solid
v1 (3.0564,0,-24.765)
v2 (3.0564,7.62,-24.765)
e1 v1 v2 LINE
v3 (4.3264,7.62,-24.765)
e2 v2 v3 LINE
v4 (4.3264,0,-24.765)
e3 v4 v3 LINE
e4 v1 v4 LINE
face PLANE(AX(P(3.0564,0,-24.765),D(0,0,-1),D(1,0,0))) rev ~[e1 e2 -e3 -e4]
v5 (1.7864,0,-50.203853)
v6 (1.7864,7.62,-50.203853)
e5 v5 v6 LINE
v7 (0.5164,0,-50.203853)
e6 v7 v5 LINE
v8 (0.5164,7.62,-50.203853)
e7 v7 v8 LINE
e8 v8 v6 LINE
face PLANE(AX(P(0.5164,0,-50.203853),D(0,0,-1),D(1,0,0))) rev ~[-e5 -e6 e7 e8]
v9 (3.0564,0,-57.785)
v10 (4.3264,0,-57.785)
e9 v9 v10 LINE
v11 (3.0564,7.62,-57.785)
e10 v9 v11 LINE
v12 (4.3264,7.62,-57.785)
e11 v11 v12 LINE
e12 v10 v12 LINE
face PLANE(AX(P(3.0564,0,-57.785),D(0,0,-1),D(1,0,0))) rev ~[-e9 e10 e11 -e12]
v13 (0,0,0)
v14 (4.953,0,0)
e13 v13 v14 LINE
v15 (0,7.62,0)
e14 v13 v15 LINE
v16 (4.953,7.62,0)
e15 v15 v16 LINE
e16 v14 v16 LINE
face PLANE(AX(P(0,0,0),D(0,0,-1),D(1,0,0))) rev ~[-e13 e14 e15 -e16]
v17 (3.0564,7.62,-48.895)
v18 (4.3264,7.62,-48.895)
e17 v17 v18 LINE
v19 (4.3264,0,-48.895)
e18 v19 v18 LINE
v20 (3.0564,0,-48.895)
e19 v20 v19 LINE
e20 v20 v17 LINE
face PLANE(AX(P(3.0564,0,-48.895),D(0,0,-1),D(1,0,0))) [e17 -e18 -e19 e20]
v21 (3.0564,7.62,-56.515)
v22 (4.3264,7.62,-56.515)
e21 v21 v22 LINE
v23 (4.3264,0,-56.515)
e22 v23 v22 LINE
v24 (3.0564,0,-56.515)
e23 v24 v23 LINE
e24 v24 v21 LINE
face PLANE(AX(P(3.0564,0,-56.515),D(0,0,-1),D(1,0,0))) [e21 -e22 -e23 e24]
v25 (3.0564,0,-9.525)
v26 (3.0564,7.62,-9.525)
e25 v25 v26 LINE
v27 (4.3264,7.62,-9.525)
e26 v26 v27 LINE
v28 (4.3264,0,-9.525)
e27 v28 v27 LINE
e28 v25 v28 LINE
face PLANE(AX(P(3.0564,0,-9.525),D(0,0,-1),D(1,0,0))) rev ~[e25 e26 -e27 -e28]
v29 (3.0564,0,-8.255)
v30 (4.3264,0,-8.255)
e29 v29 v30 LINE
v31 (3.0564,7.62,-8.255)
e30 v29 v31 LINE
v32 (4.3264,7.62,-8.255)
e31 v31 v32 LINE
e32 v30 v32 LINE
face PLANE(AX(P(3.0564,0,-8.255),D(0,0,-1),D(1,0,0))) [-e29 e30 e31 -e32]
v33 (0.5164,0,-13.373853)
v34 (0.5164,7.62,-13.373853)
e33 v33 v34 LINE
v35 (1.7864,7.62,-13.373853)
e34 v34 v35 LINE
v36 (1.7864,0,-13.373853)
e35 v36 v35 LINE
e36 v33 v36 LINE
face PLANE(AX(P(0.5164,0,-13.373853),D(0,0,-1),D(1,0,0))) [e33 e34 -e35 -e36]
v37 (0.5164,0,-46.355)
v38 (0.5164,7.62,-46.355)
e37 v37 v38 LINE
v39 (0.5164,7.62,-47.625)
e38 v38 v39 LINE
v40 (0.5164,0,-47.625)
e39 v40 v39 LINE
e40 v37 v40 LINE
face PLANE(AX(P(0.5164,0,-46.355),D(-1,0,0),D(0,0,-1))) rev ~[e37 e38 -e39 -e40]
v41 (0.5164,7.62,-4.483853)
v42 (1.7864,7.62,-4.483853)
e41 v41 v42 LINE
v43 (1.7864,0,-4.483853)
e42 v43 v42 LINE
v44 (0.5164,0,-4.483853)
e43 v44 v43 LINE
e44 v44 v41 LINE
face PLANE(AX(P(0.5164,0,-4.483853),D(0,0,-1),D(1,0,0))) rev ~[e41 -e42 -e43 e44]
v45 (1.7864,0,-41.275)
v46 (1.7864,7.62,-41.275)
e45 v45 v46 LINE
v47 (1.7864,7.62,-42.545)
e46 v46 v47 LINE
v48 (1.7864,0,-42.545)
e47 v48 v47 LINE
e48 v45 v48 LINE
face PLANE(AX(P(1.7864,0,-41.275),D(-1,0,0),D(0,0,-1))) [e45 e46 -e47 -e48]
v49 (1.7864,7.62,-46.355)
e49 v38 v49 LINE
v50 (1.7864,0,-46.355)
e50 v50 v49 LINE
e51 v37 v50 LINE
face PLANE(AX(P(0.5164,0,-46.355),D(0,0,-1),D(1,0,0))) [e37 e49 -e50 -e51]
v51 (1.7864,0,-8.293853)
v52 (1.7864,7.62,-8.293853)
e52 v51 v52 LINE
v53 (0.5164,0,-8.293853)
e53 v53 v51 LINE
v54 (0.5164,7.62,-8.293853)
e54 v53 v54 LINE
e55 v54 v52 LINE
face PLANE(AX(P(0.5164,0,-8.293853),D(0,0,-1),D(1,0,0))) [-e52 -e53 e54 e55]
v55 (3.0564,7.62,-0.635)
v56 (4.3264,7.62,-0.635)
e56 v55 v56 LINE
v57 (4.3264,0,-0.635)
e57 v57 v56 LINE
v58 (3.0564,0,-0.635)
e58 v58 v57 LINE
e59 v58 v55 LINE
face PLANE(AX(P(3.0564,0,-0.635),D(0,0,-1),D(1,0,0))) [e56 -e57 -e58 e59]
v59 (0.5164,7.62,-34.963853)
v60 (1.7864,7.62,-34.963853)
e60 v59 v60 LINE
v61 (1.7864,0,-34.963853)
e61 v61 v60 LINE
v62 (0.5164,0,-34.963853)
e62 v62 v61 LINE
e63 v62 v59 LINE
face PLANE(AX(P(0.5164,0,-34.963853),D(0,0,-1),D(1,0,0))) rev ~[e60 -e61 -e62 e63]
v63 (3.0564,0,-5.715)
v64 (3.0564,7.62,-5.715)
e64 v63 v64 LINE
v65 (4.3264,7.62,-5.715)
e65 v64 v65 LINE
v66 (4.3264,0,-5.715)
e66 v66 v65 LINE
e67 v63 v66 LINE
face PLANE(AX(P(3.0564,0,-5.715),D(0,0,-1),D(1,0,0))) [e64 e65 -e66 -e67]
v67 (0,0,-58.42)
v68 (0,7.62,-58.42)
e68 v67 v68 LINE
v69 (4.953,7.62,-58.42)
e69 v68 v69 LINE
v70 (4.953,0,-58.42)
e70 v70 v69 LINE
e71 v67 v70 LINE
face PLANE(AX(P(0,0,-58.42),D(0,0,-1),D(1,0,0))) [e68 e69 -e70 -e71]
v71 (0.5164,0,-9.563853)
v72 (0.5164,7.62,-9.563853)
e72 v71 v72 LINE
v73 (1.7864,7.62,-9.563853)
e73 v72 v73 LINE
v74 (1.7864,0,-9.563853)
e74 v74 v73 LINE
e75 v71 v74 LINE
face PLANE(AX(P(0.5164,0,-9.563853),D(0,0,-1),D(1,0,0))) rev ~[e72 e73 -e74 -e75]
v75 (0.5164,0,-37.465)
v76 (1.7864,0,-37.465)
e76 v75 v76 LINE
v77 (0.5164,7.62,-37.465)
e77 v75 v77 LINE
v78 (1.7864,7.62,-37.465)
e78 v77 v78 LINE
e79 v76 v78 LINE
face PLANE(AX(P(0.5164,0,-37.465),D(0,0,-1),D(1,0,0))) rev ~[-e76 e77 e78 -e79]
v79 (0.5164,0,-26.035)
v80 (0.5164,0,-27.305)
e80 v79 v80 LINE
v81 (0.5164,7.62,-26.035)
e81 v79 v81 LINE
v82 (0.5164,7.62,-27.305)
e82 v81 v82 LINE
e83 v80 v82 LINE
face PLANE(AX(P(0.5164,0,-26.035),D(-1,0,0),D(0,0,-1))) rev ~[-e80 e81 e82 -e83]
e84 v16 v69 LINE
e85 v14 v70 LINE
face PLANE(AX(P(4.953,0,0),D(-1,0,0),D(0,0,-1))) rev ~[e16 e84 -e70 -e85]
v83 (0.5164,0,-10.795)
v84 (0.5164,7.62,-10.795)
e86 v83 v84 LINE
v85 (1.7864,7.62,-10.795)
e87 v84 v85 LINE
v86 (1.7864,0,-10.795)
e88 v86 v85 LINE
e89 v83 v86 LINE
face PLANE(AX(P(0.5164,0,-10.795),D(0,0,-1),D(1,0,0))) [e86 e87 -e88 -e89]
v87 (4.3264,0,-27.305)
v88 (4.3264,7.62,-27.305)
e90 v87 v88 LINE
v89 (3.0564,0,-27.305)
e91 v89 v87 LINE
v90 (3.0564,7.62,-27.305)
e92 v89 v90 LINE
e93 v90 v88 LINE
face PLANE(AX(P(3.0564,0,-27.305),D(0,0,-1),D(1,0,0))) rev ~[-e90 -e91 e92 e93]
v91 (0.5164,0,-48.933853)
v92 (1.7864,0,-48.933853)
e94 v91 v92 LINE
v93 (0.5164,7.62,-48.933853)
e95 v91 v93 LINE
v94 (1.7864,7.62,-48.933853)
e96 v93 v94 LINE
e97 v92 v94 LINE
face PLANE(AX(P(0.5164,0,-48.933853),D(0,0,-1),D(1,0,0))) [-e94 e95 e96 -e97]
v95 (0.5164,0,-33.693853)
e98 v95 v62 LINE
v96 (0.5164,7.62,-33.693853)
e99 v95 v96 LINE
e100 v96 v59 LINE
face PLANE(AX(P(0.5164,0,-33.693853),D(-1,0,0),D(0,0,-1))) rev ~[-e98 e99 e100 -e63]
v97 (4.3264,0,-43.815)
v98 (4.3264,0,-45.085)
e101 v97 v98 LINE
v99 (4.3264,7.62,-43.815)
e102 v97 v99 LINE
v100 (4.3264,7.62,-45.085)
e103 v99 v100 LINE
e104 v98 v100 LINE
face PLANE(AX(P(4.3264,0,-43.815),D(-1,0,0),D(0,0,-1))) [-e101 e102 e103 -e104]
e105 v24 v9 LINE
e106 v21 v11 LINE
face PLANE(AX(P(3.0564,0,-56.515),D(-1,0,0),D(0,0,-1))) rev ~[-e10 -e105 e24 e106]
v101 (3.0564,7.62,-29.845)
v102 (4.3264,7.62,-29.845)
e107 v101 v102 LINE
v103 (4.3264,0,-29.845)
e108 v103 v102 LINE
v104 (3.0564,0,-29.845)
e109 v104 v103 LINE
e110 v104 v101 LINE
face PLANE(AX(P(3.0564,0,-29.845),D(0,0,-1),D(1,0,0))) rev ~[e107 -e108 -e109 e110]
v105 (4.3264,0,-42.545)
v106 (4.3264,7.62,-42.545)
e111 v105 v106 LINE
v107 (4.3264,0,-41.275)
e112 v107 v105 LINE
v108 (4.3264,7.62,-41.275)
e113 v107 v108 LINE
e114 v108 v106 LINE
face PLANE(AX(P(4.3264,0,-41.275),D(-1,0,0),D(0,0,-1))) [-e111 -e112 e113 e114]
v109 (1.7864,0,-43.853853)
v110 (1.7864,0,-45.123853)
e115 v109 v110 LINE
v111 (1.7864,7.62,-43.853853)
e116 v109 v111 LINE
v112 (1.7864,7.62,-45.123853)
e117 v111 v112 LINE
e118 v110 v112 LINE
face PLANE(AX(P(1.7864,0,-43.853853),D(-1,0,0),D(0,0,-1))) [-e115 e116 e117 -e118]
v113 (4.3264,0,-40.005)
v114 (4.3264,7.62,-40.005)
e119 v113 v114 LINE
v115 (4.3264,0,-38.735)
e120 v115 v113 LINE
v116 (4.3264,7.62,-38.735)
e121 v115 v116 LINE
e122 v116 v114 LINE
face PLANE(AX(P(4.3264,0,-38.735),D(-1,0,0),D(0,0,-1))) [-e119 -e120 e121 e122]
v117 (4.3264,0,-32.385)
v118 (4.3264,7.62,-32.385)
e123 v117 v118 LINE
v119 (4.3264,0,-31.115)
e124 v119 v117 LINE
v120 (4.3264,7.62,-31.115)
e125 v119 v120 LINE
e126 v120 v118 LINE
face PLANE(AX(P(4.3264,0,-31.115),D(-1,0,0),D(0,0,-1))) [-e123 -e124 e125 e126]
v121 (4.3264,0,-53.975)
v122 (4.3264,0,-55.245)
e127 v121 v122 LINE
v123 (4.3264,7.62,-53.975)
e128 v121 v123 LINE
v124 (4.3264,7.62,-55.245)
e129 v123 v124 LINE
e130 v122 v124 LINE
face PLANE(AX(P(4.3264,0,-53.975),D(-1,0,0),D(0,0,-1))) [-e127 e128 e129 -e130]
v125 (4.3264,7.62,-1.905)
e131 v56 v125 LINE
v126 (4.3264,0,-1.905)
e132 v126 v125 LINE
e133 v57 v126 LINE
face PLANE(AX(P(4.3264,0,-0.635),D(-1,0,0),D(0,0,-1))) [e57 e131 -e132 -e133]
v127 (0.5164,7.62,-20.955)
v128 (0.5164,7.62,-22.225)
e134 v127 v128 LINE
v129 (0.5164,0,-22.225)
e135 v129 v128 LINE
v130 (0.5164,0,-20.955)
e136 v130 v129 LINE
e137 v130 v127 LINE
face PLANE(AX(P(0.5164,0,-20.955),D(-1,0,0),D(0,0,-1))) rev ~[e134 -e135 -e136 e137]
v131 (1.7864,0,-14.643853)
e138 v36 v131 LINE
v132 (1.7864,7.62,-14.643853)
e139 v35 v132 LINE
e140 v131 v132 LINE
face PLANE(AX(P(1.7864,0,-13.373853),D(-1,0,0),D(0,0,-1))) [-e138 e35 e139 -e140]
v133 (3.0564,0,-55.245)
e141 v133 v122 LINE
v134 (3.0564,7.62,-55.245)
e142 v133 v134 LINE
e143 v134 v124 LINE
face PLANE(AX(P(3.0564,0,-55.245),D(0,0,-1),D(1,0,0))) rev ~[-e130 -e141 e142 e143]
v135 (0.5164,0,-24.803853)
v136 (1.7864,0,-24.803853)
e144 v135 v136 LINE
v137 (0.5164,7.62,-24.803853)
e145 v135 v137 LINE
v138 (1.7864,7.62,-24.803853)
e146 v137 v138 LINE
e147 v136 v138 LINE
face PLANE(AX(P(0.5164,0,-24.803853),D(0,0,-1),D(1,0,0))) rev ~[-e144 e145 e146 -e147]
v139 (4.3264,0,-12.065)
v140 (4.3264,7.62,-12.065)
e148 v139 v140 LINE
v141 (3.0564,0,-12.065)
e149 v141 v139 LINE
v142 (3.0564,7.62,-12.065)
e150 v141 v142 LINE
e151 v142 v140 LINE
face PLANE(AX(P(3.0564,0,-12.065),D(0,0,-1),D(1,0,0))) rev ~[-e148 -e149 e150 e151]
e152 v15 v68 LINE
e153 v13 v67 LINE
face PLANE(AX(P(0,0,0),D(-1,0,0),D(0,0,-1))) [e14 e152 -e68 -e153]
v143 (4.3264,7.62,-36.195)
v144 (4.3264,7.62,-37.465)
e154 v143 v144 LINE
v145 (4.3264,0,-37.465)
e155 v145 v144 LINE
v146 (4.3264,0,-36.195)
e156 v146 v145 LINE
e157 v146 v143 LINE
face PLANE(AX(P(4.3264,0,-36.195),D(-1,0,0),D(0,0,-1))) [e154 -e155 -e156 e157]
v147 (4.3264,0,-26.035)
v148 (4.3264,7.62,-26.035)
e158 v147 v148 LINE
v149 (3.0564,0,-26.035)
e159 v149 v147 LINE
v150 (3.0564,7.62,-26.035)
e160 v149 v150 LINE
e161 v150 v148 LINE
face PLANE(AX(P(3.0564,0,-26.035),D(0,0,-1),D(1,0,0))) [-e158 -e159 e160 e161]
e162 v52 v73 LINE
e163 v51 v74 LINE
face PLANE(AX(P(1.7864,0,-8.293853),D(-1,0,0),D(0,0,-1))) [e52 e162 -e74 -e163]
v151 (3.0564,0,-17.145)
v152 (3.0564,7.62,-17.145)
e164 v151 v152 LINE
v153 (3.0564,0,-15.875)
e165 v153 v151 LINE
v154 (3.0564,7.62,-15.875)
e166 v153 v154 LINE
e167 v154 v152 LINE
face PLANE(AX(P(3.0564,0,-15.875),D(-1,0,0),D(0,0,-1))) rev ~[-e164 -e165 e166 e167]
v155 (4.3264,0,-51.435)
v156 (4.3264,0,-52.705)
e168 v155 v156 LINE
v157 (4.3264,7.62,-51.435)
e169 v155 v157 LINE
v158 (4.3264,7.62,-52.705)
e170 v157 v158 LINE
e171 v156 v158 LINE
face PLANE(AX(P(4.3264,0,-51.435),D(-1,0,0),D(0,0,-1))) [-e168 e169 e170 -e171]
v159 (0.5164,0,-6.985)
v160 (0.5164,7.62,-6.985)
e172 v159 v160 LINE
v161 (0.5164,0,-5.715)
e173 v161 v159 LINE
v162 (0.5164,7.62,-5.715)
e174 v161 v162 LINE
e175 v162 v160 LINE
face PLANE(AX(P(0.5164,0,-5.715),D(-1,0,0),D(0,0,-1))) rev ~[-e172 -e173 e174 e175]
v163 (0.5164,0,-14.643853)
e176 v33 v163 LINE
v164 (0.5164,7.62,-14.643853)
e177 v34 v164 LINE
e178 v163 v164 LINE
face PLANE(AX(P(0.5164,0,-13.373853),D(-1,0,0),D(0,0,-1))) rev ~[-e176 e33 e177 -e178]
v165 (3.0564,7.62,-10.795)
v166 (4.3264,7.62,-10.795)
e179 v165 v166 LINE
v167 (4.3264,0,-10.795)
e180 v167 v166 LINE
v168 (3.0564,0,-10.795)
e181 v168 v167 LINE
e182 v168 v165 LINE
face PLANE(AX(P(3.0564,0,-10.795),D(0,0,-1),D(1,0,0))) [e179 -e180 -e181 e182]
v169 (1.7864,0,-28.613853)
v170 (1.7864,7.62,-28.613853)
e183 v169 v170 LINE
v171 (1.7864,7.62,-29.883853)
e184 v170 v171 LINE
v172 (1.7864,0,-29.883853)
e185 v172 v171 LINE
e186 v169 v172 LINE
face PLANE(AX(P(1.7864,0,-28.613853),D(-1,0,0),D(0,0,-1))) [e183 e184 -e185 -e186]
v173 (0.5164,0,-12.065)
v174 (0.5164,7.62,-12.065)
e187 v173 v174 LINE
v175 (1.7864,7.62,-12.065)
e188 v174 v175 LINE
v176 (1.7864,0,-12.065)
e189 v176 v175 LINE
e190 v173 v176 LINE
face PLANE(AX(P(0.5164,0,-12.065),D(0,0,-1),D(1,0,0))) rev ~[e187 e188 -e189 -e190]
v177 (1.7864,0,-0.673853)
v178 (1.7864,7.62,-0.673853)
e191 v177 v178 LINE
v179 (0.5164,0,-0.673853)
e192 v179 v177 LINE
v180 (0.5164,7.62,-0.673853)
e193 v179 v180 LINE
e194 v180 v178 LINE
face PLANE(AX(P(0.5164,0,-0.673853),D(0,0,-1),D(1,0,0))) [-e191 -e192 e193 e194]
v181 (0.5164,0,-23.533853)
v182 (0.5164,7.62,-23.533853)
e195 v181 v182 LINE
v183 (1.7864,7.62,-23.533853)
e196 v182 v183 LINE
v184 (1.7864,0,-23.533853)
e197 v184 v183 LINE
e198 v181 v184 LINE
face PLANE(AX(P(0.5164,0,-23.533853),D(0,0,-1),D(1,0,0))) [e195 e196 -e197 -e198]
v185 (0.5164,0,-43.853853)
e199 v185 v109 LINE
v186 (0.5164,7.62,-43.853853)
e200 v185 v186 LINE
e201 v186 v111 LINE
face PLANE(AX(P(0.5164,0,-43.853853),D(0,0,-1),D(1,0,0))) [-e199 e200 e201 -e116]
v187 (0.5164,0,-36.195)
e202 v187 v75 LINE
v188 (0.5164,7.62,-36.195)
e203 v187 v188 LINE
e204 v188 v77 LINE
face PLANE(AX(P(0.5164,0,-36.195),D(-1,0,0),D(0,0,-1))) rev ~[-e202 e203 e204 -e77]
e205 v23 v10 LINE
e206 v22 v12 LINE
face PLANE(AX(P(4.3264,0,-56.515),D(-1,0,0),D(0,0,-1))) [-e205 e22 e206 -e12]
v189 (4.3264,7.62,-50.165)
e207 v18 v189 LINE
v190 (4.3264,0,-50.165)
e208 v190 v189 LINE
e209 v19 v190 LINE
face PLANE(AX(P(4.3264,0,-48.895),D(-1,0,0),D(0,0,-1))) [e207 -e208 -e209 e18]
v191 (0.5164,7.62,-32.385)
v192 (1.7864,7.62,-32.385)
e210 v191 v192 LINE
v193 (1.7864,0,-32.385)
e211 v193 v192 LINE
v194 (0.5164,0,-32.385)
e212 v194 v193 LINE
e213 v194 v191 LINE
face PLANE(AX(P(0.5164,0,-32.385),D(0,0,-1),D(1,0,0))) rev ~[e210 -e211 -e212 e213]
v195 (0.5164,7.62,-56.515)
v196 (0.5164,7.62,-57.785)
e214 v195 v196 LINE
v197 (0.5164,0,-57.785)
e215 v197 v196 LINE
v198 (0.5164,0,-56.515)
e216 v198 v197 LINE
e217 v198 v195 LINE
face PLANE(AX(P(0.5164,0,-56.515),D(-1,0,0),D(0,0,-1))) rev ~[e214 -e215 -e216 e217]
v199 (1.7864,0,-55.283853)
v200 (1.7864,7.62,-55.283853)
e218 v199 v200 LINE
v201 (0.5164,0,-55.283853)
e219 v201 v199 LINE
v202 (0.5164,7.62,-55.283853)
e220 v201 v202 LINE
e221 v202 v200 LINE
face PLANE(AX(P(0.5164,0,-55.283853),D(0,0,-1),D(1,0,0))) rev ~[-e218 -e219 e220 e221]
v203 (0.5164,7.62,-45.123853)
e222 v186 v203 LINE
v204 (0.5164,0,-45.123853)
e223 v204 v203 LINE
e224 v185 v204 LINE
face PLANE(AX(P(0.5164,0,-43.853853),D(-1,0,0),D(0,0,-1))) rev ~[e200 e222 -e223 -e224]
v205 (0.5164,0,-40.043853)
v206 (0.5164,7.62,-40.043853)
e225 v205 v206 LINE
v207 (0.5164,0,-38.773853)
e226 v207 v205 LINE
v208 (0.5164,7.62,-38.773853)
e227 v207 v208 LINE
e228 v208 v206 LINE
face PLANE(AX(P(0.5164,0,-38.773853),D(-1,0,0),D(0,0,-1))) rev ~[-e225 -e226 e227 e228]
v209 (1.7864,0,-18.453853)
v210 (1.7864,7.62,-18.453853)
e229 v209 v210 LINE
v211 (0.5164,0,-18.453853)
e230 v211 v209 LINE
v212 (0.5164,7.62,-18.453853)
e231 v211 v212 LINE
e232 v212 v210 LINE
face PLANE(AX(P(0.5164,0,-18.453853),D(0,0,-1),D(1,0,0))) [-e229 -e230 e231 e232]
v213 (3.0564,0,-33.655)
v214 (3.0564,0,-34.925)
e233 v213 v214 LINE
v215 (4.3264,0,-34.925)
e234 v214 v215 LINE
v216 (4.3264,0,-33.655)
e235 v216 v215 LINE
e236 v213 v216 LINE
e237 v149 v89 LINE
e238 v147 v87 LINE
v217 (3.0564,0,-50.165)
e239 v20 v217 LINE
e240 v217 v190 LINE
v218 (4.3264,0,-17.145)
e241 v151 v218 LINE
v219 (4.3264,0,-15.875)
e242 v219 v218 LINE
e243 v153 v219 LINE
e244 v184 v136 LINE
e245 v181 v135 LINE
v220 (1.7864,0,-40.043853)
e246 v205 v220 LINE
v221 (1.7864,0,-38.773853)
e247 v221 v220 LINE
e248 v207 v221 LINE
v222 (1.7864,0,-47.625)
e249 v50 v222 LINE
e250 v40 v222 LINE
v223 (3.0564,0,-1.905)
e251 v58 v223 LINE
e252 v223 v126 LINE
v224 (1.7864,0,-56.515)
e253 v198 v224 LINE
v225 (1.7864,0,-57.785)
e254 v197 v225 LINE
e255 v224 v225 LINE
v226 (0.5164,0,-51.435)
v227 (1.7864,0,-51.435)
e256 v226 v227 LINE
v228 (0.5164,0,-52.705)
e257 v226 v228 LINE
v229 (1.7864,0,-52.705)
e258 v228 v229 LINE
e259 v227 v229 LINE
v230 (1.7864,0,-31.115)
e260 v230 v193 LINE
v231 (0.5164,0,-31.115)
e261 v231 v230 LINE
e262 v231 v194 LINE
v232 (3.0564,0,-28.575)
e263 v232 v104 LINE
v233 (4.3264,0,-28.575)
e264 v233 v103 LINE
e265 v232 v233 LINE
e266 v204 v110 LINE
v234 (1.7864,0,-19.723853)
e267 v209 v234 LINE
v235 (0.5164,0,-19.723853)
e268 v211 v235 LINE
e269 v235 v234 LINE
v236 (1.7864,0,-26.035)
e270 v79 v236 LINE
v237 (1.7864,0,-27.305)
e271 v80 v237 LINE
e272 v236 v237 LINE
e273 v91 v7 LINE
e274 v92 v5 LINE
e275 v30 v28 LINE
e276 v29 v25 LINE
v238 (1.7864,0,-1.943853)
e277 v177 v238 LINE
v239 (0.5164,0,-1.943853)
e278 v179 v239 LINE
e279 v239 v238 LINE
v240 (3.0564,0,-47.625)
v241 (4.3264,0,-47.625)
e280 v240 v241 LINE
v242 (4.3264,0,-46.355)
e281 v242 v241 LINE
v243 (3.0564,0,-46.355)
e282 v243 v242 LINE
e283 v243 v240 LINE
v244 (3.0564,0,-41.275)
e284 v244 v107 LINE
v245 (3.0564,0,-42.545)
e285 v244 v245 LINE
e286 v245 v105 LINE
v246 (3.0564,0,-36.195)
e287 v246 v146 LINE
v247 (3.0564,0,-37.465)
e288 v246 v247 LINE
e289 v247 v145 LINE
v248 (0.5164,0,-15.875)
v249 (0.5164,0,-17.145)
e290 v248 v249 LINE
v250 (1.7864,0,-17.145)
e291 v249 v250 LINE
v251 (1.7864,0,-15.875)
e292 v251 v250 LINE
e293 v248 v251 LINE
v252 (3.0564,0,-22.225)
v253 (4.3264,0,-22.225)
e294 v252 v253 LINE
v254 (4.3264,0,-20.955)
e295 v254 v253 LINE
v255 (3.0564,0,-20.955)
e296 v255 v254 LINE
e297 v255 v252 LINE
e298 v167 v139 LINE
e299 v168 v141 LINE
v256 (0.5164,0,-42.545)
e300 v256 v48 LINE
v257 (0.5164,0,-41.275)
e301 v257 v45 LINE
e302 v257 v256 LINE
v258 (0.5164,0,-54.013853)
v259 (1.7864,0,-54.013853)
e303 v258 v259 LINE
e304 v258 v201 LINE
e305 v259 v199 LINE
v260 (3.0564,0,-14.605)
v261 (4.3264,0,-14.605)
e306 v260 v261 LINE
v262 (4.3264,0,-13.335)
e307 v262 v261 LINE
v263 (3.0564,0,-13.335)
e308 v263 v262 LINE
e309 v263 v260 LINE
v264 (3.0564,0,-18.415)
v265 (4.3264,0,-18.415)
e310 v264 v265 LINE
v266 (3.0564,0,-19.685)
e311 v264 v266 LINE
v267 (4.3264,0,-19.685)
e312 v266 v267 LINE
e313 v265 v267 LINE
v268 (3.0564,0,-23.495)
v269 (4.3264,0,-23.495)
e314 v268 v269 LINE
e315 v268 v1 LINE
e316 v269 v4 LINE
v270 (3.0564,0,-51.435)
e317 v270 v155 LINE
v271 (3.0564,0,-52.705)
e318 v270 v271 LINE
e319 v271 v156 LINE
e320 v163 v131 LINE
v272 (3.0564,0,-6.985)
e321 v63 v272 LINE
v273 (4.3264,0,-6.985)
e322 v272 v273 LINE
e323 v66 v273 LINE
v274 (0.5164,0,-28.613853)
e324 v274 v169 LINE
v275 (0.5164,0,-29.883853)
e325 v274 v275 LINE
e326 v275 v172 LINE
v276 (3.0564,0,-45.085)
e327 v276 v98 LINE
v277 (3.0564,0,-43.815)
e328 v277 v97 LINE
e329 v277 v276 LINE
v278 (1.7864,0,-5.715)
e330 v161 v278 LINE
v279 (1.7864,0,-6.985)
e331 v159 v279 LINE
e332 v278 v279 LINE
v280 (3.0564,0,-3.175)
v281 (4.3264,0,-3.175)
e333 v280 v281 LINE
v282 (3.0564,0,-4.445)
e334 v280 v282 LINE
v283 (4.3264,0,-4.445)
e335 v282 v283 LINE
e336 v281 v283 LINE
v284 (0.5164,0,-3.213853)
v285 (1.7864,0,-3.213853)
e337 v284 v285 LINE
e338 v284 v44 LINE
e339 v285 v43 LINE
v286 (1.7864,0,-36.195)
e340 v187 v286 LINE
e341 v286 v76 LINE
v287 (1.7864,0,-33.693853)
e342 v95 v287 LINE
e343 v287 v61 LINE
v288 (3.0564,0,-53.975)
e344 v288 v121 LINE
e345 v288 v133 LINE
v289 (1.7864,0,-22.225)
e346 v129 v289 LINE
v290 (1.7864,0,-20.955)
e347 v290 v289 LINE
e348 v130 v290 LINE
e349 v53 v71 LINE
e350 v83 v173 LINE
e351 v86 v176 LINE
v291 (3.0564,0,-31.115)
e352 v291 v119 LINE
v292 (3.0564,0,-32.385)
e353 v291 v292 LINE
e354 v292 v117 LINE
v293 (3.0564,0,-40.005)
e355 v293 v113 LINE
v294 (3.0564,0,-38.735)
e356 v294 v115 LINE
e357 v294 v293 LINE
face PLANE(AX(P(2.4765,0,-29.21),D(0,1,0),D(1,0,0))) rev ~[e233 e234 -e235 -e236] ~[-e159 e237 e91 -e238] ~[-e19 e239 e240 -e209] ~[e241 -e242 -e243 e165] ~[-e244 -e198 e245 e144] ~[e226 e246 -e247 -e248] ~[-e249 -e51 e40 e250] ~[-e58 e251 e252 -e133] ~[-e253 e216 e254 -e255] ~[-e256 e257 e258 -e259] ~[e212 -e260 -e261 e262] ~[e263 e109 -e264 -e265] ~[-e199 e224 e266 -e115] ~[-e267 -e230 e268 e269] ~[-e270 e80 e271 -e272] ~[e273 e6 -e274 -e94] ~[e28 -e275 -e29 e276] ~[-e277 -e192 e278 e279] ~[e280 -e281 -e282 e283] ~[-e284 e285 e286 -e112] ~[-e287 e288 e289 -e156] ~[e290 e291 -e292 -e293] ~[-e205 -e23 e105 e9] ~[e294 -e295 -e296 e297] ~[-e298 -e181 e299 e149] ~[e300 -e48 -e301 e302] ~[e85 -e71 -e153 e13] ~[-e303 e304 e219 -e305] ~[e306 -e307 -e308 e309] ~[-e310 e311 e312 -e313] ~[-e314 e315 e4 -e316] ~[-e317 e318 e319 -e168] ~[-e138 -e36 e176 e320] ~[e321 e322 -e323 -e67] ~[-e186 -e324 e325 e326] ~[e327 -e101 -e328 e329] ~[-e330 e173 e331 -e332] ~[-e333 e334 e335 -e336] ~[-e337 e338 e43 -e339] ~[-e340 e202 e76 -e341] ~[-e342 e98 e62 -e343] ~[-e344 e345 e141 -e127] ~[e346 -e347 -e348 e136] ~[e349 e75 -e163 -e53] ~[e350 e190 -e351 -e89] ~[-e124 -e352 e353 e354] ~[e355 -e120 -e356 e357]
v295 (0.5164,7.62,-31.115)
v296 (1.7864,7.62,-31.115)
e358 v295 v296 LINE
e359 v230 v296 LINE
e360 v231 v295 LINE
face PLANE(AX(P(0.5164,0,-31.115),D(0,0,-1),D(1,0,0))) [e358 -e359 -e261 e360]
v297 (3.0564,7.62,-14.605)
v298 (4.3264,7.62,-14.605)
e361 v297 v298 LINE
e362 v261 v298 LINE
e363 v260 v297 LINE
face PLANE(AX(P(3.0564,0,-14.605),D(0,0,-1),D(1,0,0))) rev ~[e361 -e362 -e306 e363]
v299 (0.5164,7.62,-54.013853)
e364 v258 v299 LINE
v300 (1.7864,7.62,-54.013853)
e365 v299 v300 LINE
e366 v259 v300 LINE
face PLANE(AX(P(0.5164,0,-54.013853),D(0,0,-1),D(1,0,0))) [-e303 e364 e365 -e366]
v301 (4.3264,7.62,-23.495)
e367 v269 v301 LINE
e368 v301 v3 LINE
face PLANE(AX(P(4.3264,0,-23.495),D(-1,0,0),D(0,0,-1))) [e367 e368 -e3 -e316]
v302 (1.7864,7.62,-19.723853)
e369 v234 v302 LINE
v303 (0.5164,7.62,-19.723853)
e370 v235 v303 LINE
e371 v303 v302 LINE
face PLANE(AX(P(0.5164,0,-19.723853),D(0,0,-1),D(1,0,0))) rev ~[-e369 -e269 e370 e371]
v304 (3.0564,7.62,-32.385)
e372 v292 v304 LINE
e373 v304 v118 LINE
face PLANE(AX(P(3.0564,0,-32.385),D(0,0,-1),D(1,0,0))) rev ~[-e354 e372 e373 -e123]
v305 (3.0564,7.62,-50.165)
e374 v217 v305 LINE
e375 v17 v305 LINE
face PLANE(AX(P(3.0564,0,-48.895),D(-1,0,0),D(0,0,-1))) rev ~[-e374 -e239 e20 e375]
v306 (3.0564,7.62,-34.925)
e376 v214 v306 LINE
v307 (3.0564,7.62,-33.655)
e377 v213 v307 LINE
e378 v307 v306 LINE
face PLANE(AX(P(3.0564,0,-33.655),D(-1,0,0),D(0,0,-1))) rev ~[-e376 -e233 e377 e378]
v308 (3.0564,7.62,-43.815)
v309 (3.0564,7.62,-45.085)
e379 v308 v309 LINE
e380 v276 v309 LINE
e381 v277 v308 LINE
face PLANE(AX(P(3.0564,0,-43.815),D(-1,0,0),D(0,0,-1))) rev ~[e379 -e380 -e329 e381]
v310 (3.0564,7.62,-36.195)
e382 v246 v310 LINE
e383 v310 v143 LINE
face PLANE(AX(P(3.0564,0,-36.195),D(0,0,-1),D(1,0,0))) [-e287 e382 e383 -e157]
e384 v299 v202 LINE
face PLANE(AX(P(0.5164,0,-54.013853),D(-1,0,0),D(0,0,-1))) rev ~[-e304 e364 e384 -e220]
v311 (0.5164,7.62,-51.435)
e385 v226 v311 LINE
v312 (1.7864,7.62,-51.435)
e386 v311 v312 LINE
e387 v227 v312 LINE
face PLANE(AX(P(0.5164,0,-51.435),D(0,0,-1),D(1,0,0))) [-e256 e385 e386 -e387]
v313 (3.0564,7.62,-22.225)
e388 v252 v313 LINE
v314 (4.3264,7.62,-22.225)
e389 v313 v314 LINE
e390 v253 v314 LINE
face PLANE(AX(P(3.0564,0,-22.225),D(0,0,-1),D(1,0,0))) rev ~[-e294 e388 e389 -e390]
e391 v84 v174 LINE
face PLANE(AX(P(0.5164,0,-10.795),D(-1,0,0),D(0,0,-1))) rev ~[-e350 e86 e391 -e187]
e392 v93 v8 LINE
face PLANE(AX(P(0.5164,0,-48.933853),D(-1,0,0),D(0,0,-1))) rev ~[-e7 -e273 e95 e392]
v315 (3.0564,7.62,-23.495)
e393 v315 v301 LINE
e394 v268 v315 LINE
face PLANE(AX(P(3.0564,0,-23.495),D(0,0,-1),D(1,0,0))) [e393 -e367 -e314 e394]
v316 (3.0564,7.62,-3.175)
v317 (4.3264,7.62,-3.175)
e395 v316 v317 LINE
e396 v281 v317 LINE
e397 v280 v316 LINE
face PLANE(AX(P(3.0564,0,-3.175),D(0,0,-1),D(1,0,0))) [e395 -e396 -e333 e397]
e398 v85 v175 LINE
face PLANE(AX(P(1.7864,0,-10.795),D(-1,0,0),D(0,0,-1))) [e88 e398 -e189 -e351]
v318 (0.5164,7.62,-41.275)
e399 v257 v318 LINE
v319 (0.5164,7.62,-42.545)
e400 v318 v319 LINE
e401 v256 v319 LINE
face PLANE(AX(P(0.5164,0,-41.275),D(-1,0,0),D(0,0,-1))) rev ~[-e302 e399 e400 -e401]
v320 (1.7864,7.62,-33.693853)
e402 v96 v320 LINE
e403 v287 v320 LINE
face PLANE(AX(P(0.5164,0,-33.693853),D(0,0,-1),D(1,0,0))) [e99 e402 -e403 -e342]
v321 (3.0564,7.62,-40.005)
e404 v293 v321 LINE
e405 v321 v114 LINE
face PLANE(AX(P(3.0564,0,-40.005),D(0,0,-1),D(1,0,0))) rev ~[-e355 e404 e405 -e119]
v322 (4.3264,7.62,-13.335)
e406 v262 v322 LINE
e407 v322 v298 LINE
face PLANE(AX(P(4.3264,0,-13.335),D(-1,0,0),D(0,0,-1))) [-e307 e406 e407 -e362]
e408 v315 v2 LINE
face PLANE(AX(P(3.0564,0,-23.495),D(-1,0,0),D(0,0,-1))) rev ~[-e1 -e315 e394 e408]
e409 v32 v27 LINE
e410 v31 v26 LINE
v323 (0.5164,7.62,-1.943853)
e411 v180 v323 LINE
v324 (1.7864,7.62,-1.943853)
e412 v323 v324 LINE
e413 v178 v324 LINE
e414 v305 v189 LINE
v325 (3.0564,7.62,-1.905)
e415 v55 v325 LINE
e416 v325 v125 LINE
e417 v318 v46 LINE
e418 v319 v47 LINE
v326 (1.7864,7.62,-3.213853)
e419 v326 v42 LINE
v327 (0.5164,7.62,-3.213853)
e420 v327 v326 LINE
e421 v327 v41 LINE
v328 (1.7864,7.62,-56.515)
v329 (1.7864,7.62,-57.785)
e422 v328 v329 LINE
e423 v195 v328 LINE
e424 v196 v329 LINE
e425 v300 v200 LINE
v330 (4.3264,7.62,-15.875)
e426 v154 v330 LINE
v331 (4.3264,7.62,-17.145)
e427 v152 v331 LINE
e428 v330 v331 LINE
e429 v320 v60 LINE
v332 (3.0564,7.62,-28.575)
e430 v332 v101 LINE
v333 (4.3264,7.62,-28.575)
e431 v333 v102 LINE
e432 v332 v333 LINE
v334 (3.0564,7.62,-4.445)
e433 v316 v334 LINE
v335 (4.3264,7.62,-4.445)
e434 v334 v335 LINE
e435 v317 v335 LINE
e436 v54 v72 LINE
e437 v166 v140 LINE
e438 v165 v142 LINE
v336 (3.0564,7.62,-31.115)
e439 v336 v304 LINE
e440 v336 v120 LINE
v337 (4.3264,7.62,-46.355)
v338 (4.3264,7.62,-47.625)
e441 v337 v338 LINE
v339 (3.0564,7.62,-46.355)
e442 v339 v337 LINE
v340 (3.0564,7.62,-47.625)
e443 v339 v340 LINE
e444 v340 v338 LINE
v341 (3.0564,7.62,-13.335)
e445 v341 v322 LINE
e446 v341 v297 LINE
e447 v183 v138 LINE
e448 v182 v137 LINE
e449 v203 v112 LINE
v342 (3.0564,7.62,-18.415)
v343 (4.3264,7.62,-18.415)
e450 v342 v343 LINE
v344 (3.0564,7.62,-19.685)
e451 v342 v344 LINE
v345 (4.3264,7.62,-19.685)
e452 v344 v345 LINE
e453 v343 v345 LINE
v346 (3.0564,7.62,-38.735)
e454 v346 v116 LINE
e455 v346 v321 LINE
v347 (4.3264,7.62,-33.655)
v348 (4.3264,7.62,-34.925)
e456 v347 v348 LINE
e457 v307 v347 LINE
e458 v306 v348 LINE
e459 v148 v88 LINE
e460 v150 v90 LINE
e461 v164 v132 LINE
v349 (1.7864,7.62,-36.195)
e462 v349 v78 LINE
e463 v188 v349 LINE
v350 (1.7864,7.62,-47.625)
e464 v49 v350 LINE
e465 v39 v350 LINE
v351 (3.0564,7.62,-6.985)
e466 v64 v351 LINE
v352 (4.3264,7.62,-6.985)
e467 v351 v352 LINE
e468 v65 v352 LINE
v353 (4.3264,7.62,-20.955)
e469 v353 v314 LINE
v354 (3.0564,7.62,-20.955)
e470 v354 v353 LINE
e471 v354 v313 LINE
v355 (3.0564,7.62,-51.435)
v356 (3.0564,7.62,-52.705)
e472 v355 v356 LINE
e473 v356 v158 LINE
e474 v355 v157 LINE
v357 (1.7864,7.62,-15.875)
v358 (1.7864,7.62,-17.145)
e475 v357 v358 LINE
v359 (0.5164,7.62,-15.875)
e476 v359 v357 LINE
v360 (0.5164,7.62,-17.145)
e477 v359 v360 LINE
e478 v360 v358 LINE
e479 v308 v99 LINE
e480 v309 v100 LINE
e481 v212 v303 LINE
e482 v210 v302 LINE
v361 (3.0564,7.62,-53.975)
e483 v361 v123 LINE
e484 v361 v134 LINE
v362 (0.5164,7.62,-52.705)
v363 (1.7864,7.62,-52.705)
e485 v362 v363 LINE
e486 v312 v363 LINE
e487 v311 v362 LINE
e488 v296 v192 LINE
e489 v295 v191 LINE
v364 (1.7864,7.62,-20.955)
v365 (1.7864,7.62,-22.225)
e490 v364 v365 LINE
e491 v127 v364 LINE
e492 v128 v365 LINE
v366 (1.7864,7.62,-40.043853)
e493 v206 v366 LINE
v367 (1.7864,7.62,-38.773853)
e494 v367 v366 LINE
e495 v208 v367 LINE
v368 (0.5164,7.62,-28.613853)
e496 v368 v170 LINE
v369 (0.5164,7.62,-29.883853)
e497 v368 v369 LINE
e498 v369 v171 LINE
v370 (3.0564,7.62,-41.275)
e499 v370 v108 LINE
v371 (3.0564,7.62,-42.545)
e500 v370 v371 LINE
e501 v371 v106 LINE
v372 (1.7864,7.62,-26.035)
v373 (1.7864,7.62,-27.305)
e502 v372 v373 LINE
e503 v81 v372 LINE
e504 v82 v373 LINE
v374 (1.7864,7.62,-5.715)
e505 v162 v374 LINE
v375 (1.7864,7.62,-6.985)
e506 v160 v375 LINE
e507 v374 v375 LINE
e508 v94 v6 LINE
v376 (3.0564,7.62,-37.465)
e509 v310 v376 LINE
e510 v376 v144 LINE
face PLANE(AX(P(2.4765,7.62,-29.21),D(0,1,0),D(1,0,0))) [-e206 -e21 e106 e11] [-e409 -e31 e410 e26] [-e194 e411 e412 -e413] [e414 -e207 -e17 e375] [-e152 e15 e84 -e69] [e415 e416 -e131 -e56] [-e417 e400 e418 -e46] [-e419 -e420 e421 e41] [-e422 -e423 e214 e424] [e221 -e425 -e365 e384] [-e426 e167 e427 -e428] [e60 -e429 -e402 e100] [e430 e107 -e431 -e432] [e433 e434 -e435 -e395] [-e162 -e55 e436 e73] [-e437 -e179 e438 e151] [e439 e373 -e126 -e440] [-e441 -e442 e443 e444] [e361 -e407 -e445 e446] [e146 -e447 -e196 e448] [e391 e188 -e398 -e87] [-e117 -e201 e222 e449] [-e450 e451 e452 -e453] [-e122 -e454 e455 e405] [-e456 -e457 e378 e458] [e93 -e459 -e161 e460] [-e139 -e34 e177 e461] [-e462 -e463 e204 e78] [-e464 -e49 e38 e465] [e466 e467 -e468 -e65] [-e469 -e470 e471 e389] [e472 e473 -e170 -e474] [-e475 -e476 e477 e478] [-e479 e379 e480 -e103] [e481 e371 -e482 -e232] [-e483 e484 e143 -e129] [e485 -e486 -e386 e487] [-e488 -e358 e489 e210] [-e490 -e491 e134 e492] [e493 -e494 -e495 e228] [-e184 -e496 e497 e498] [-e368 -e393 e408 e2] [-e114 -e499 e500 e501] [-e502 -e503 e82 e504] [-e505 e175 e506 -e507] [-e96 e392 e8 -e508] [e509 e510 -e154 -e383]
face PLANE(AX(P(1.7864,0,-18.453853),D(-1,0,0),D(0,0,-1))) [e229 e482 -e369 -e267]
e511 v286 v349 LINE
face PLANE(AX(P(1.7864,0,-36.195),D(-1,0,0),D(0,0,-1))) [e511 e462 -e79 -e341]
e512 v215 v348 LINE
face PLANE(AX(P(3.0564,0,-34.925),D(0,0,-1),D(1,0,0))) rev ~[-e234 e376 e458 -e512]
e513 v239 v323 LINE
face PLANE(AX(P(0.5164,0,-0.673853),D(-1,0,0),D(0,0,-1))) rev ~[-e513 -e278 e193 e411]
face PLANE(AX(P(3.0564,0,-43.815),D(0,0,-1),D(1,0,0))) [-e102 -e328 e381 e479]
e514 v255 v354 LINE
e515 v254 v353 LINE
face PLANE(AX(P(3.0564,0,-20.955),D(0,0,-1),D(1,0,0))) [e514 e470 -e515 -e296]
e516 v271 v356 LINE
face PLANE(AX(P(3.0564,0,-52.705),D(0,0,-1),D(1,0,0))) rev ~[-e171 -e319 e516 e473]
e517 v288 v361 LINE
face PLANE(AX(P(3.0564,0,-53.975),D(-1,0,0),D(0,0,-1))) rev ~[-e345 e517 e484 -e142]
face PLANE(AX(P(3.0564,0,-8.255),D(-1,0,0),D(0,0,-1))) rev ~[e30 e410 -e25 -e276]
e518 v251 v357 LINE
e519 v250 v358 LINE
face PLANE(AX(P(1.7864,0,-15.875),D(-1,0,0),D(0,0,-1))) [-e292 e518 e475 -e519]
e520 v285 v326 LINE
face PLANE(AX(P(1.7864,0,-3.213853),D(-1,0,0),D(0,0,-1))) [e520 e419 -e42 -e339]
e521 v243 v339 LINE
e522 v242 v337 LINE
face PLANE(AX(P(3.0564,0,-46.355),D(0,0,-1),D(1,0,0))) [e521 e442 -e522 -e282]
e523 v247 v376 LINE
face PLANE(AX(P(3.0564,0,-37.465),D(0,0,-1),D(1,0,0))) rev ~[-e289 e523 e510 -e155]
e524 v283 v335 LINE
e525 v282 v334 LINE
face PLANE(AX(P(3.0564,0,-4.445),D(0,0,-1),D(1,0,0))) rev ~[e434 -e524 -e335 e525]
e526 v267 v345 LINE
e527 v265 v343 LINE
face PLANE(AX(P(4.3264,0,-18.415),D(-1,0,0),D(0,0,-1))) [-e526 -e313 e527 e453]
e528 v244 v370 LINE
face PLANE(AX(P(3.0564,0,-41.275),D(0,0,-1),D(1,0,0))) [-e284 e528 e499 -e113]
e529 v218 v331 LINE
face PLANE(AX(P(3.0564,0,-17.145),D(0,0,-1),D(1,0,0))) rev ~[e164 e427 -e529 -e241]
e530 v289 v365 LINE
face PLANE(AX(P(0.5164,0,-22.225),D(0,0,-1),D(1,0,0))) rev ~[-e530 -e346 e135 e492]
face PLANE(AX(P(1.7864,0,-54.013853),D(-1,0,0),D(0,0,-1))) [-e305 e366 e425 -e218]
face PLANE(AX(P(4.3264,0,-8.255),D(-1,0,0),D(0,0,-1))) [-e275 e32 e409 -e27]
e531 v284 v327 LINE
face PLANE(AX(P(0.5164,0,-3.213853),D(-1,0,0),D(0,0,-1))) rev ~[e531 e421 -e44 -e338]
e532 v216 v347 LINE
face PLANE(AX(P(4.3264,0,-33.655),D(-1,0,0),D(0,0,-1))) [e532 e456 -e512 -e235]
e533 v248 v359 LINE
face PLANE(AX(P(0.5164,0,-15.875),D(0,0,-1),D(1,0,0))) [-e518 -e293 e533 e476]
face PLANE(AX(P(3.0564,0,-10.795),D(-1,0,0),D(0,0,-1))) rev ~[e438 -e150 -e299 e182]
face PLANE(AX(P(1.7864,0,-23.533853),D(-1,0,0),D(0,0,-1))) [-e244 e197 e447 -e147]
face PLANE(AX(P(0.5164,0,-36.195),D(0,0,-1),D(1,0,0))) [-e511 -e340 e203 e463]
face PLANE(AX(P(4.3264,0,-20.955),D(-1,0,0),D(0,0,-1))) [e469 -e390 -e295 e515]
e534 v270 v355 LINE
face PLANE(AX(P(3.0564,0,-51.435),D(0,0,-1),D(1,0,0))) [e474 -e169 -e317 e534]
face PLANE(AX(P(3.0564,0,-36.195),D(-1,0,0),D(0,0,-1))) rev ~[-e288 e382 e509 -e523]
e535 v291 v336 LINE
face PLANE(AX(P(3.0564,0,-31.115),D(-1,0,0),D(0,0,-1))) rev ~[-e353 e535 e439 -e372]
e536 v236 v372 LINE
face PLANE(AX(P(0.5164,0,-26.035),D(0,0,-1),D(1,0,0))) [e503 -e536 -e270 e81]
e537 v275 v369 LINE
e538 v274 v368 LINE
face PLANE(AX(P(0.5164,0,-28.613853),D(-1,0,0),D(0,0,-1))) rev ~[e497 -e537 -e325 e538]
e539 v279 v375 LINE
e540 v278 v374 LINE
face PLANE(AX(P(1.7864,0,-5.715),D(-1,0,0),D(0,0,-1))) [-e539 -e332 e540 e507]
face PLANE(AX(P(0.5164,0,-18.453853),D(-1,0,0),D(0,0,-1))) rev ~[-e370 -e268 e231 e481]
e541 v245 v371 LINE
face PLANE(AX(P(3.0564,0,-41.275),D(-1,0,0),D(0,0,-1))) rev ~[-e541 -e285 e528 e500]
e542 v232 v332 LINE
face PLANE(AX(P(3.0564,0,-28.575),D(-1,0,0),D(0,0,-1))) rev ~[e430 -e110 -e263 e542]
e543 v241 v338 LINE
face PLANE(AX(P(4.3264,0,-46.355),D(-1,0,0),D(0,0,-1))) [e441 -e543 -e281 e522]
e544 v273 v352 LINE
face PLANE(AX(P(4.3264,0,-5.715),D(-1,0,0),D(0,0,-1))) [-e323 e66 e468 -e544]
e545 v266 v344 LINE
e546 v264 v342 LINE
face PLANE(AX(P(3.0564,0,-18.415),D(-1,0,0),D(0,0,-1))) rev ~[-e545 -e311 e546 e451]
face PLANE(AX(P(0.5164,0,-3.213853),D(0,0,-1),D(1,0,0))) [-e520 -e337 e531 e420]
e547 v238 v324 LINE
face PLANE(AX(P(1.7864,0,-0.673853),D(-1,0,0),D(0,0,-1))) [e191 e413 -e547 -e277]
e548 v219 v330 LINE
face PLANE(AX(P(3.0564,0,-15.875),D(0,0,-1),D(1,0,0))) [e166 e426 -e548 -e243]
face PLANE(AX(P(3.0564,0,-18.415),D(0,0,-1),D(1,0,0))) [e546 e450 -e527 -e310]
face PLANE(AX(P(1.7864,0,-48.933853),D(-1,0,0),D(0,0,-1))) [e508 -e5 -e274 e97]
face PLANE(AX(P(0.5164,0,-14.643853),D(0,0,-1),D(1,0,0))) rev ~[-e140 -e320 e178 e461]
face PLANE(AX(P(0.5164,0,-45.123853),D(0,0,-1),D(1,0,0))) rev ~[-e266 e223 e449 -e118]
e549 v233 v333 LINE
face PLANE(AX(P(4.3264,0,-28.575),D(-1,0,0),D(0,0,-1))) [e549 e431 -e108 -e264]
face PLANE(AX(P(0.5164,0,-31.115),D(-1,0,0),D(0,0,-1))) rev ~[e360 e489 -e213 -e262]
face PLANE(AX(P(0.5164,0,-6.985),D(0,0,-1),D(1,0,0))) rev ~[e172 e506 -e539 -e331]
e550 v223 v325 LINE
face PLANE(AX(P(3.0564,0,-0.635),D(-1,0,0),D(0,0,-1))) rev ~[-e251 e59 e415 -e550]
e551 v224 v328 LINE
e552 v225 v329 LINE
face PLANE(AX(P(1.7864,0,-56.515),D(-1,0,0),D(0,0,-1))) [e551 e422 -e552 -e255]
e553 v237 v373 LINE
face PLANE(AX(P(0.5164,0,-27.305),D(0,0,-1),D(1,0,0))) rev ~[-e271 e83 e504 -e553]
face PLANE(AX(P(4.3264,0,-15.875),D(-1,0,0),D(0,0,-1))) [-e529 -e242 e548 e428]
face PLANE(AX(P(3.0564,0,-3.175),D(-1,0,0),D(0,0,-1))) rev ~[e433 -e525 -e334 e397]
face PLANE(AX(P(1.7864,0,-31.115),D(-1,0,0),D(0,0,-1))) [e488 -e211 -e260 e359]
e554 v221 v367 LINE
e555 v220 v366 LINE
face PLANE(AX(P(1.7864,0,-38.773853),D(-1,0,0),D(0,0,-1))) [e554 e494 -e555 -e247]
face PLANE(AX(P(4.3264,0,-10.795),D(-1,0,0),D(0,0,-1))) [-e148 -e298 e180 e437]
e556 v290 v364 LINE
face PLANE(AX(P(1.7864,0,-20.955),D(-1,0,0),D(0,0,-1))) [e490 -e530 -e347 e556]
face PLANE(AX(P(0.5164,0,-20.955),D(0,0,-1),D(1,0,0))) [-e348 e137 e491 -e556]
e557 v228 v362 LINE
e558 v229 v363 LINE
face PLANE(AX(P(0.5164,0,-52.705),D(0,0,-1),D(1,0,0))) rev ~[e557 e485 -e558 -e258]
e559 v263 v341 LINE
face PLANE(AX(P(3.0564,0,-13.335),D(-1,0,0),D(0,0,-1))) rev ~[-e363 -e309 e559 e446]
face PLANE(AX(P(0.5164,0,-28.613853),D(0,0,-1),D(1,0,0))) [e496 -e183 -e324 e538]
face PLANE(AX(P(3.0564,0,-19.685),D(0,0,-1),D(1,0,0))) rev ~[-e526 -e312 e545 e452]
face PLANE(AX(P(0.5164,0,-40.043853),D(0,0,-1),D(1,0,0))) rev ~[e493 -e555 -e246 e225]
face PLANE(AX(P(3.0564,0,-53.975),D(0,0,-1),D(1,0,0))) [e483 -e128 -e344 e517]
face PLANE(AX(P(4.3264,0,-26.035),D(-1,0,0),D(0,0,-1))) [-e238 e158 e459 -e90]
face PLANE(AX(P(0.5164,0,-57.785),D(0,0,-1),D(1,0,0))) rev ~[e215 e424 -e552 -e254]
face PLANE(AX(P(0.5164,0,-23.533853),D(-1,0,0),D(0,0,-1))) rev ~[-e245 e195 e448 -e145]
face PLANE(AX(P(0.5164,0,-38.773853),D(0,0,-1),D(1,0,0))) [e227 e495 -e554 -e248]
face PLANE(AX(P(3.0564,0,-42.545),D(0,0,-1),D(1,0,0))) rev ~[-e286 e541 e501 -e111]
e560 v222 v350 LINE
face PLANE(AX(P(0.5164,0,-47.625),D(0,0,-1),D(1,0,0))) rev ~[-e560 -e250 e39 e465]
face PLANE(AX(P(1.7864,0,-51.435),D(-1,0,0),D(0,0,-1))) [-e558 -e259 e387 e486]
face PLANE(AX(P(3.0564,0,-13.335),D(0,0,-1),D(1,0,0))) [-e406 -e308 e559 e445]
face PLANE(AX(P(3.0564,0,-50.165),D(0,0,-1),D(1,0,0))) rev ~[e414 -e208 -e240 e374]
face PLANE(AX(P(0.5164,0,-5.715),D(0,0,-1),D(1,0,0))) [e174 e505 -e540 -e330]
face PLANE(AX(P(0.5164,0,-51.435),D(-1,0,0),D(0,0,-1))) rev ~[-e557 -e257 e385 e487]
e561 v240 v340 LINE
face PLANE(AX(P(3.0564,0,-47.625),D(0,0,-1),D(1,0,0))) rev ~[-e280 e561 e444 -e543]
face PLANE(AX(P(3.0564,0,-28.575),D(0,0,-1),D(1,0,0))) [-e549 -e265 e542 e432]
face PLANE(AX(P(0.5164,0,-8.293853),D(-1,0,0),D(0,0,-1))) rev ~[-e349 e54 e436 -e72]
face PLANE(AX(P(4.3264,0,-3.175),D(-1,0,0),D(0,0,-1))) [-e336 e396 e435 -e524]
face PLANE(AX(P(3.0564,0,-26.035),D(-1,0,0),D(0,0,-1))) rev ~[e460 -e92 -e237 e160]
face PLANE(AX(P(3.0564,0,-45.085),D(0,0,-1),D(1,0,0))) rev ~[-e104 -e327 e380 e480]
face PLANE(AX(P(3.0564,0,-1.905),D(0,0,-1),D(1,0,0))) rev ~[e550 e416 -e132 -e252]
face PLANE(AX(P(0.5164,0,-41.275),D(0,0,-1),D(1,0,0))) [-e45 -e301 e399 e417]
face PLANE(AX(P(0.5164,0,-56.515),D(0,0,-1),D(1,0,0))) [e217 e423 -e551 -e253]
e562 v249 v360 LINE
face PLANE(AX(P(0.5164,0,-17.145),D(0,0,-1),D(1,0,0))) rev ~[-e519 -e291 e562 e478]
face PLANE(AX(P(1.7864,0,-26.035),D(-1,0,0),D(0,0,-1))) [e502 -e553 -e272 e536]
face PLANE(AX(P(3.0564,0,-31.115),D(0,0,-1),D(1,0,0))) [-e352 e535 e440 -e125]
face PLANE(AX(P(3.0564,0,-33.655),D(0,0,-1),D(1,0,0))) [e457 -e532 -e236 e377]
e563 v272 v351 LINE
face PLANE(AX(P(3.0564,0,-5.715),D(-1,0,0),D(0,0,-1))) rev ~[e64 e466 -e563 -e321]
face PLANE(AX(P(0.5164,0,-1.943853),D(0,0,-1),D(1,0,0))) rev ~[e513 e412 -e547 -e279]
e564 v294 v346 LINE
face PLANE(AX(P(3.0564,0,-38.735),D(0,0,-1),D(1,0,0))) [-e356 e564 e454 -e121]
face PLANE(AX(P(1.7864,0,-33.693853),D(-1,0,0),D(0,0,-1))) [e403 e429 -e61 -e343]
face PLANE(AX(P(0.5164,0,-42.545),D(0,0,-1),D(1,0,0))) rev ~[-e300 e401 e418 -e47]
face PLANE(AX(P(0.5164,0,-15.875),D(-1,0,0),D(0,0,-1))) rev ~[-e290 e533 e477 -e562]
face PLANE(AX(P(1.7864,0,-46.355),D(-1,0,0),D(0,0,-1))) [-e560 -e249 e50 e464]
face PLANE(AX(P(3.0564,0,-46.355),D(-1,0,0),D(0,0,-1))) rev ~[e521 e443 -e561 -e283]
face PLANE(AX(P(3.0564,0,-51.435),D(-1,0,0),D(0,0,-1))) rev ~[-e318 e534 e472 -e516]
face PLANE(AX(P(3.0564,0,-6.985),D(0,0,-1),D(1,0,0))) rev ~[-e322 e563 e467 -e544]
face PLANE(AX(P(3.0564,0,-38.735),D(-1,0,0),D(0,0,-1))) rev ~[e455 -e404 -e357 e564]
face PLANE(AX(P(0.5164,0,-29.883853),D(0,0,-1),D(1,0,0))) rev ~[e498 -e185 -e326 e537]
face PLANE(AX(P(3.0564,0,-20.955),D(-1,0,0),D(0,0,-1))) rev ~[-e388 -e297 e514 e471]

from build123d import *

# Parameters (mm, degrees)
SKETCH1_W           = 4.953
SKETCH1_H           = 58.42
SKETCH1_W_2         = 1.27
SKETCH1_H_2         = 1.27
BOSS_EXTRUDE1_DEPTH = 7.62


with BuildPart() as part:
    # Sketch1 → Boss-Extrude1 (new body)
    with BuildSketch(Plane(origin=(0, 0, 0), x_dir=(1, 0, 0), z_dir=(0, 1, 0))):
        with Locations((2.4765, 29.21)):
            Rectangle(SKETCH1_W, SKETCH1_H)
        with Locations((3.691399704, 57.15)):
            Rectangle(SKETCH1_W_2, SKETCH1_H_2, mode=Mode.SUBTRACT)
        with Locations((1.151399704, 57.15)):
            Rectangle(SKETCH1_W_2, SKETCH1_H_2, mode=Mode.SUBTRACT)
        with Locations((3.691399704, 54.61)):
            Rectangle(SKETCH1_W_2, SKETCH1_H_2, mode=Mode.SUBTRACT)
        with Locations((1.151399704, 54.648853122)):
            Rectangle(SKETCH1_W_2, SKETCH1_H_2, mode=Mode.SUBTRACT)
        with Locations((3.691399704, 52.07)):
            Rectangle(SKETCH1_W_2, SKETCH1_H_2, mode=Mode.SUBTRACT)
        with Locations((1.151399704, 52.07)):
            Rectangle(SKETCH1_W_2, SKETCH1_H_2, mode=Mode.SUBTRACT)
        with Locations((3.691399704, 49.53)):
            Rectangle(SKETCH1_W_2, SKETCH1_H_2, mode=Mode.SUBTRACT)
        with Locations((1.151399704, 49.568853122)):
            Rectangle(SKETCH1_W_2, SKETCH1_H_2, mode=Mode.SUBTRACT)
        with Locations((3.691399704, 46.99)):
            Rectangle(SKETCH1_W_2, SKETCH1_H_2, mode=Mode.SUBTRACT)
        with Locations((1.151399704, 46.99)):
            Rectangle(SKETCH1_W_2, SKETCH1_H_2, mode=Mode.SUBTRACT)
        with Locations((3.691399704, 44.45)):
            Rectangle(SKETCH1_W_2, SKETCH1_H_2, mode=Mode.SUBTRACT)
        with Locations((1.151399704, 44.488853122)):
            Rectangle(SKETCH1_W_2, SKETCH1_H_2, mode=Mode.SUBTRACT)
        with Locations((3.691399704, 41.91)):
            Rectangle(SKETCH1_W_2, SKETCH1_H_2, mode=Mode.SUBTRACT)
        with Locations((1.151399704, 41.91)):
            Rectangle(SKETCH1_W_2, SKETCH1_H_2, mode=Mode.SUBTRACT)
        with Locations((3.691399704, 39.37)):
            Rectangle(SKETCH1_W_2, SKETCH1_H_2, mode=Mode.SUBTRACT)
        with Locations((1.151399704, 39.408853122)):
            Rectangle(SKETCH1_W_2, SKETCH1_H_2, mode=Mode.SUBTRACT)
        with Locations((3.691399704, 36.83)):
            Rectangle(SKETCH1_W_2, SKETCH1_H_2, mode=Mode.SUBTRACT)
        with Locations((1.151399704, 36.83)):
            Rectangle(SKETCH1_W_2, SKETCH1_H_2, mode=Mode.SUBTRACT)
        with Locations((3.691399704, 34.29)):
            Rectangle(SKETCH1_W_2, SKETCH1_H_2, mode=Mode.SUBTRACT)
        with Locations((1.151399704, 34.328853122)):
            Rectangle(SKETCH1_W_2, SKETCH1_H_2, mode=Mode.SUBTRACT)
        with Locations((3.691399704, 31.75)):
            Rectangle(SKETCH1_W_2, SKETCH1_H_2, mode=Mode.SUBTRACT)
        with Locations((1.151399704, 31.75)):
            Rectangle(SKETCH1_W_2, SKETCH1_H_2, mode=Mode.SUBTRACT)
        with Locations((3.691399704, 29.21)):
            Rectangle(SKETCH1_W_2, SKETCH1_H_2, mode=Mode.SUBTRACT)
        with Locations((1.151399704, 29.248853122)):
            Rectangle(SKETCH1_W_2, SKETCH1_H_2, mode=Mode.SUBTRACT)
        with Locations((3.691399704, 26.67)):
            Rectangle(SKETCH1_W_2, SKETCH1_H_2, mode=Mode.SUBTRACT)
        with Locations((1.151399704, 26.67)):
            Rectangle(SKETCH1_W_2, SKETCH1_H_2, mode=Mode.SUBTRACT)
        with Locations((3.691399704, 24.13)):
            Rectangle(SKETCH1_W_2, SKETCH1_H_2, mode=Mode.SUBTRACT)
        with Locations((1.151399704, 24.168853122)):
            Rectangle(SKETCH1_W_2, SKETCH1_H_2, mode=Mode.SUBTRACT)
        with Locations((3.691399704, 21.59)):
            Rectangle(SKETCH1_W_2, SKETCH1_H_2, mode=Mode.SUBTRACT)
        with Locations((1.151399704, 21.59)):
            Rectangle(SKETCH1_W_2, SKETCH1_H_2, mode=Mode.SUBTRACT)
        with Locations((3.691399704, 19.05)):
            Rectangle(SKETCH1_W_2, SKETCH1_H_2, mode=Mode.SUBTRACT)
        with Locations((1.151399704, 19.088853122)):
            Rectangle(SKETCH1_W_2, SKETCH1_H_2, mode=Mode.SUBTRACT)
        with Locations((3.691399704, 16.51)):
            Rectangle(SKETCH1_W_2, SKETCH1_H_2, mode=Mode.SUBTRACT)
        with Locations((1.151399704, 16.51)):
            Rectangle(SKETCH1_W_2, SKETCH1_H_2, mode=Mode.SUBTRACT)
        with Locations((3.691399704, 13.97)):
            Rectangle(SKETCH1_W_2, SKETCH1_H_2, mode=Mode.SUBTRACT)
        with Locations((1.151399704, 14.008853122)):
            Rectangle(SKETCH1_W_2, SKETCH1_H_2, mode=Mode.SUBTRACT)
        with Locations((3.691399704, 11.43)):
            Rectangle(SKETCH1_W_2, SKETCH1_H_2, mode=Mode.SUBTRACT)
        with Locations((1.151399704, 11.43)):
            Rectangle(SKETCH1_W_2, SKETCH1_H_2, mode=Mode.SUBTRACT)
        with Locations((3.691399704, 8.89)):
            Rectangle(SKETCH1_W_2, SKETCH1_H_2, mode=Mode.SUBTRACT)
        with Locations((1.151399704, 8.928853122)):
            Rectangle(SKETCH1_W_2, SKETCH1_H_2, mode=Mode.SUBTRACT)
        with Locations((3.691399704, 6.35)):
            Rectangle(SKETCH1_W_2, SKETCH1_H_2, mode=Mode.SUBTRACT)
        with Locations((1.151399704, 6.35)):
            Rectangle(SKETCH1_W_2, SKETCH1_H_2, mode=Mode.SUBTRACT)
        with Locations((3.691399704, 3.81)):
            Rectangle(SKETCH1_W_2, SKETCH1_H_2, mode=Mode.SUBTRACT)
        with Locations((1.151399704, 3.848853122)):
            Rectangle(SKETCH1_W_2, SKETCH1_H_2, mode=Mode.SUBTRACT)
        with Locations((3.691399704, 1.27)):
            Rectangle(SKETCH1_W_2, SKETCH1_H_2, mode=Mode.SUBTRACT)
        with Locations((1.151399704, 1.308853122)):
            Rectangle(SKETCH1_W_2, SKETCH1_H_2, mode=Mode.SUBTRACT)
    extrude(amount=BOSS_EXTRUDE1_DEPTH)


solid = part.part
